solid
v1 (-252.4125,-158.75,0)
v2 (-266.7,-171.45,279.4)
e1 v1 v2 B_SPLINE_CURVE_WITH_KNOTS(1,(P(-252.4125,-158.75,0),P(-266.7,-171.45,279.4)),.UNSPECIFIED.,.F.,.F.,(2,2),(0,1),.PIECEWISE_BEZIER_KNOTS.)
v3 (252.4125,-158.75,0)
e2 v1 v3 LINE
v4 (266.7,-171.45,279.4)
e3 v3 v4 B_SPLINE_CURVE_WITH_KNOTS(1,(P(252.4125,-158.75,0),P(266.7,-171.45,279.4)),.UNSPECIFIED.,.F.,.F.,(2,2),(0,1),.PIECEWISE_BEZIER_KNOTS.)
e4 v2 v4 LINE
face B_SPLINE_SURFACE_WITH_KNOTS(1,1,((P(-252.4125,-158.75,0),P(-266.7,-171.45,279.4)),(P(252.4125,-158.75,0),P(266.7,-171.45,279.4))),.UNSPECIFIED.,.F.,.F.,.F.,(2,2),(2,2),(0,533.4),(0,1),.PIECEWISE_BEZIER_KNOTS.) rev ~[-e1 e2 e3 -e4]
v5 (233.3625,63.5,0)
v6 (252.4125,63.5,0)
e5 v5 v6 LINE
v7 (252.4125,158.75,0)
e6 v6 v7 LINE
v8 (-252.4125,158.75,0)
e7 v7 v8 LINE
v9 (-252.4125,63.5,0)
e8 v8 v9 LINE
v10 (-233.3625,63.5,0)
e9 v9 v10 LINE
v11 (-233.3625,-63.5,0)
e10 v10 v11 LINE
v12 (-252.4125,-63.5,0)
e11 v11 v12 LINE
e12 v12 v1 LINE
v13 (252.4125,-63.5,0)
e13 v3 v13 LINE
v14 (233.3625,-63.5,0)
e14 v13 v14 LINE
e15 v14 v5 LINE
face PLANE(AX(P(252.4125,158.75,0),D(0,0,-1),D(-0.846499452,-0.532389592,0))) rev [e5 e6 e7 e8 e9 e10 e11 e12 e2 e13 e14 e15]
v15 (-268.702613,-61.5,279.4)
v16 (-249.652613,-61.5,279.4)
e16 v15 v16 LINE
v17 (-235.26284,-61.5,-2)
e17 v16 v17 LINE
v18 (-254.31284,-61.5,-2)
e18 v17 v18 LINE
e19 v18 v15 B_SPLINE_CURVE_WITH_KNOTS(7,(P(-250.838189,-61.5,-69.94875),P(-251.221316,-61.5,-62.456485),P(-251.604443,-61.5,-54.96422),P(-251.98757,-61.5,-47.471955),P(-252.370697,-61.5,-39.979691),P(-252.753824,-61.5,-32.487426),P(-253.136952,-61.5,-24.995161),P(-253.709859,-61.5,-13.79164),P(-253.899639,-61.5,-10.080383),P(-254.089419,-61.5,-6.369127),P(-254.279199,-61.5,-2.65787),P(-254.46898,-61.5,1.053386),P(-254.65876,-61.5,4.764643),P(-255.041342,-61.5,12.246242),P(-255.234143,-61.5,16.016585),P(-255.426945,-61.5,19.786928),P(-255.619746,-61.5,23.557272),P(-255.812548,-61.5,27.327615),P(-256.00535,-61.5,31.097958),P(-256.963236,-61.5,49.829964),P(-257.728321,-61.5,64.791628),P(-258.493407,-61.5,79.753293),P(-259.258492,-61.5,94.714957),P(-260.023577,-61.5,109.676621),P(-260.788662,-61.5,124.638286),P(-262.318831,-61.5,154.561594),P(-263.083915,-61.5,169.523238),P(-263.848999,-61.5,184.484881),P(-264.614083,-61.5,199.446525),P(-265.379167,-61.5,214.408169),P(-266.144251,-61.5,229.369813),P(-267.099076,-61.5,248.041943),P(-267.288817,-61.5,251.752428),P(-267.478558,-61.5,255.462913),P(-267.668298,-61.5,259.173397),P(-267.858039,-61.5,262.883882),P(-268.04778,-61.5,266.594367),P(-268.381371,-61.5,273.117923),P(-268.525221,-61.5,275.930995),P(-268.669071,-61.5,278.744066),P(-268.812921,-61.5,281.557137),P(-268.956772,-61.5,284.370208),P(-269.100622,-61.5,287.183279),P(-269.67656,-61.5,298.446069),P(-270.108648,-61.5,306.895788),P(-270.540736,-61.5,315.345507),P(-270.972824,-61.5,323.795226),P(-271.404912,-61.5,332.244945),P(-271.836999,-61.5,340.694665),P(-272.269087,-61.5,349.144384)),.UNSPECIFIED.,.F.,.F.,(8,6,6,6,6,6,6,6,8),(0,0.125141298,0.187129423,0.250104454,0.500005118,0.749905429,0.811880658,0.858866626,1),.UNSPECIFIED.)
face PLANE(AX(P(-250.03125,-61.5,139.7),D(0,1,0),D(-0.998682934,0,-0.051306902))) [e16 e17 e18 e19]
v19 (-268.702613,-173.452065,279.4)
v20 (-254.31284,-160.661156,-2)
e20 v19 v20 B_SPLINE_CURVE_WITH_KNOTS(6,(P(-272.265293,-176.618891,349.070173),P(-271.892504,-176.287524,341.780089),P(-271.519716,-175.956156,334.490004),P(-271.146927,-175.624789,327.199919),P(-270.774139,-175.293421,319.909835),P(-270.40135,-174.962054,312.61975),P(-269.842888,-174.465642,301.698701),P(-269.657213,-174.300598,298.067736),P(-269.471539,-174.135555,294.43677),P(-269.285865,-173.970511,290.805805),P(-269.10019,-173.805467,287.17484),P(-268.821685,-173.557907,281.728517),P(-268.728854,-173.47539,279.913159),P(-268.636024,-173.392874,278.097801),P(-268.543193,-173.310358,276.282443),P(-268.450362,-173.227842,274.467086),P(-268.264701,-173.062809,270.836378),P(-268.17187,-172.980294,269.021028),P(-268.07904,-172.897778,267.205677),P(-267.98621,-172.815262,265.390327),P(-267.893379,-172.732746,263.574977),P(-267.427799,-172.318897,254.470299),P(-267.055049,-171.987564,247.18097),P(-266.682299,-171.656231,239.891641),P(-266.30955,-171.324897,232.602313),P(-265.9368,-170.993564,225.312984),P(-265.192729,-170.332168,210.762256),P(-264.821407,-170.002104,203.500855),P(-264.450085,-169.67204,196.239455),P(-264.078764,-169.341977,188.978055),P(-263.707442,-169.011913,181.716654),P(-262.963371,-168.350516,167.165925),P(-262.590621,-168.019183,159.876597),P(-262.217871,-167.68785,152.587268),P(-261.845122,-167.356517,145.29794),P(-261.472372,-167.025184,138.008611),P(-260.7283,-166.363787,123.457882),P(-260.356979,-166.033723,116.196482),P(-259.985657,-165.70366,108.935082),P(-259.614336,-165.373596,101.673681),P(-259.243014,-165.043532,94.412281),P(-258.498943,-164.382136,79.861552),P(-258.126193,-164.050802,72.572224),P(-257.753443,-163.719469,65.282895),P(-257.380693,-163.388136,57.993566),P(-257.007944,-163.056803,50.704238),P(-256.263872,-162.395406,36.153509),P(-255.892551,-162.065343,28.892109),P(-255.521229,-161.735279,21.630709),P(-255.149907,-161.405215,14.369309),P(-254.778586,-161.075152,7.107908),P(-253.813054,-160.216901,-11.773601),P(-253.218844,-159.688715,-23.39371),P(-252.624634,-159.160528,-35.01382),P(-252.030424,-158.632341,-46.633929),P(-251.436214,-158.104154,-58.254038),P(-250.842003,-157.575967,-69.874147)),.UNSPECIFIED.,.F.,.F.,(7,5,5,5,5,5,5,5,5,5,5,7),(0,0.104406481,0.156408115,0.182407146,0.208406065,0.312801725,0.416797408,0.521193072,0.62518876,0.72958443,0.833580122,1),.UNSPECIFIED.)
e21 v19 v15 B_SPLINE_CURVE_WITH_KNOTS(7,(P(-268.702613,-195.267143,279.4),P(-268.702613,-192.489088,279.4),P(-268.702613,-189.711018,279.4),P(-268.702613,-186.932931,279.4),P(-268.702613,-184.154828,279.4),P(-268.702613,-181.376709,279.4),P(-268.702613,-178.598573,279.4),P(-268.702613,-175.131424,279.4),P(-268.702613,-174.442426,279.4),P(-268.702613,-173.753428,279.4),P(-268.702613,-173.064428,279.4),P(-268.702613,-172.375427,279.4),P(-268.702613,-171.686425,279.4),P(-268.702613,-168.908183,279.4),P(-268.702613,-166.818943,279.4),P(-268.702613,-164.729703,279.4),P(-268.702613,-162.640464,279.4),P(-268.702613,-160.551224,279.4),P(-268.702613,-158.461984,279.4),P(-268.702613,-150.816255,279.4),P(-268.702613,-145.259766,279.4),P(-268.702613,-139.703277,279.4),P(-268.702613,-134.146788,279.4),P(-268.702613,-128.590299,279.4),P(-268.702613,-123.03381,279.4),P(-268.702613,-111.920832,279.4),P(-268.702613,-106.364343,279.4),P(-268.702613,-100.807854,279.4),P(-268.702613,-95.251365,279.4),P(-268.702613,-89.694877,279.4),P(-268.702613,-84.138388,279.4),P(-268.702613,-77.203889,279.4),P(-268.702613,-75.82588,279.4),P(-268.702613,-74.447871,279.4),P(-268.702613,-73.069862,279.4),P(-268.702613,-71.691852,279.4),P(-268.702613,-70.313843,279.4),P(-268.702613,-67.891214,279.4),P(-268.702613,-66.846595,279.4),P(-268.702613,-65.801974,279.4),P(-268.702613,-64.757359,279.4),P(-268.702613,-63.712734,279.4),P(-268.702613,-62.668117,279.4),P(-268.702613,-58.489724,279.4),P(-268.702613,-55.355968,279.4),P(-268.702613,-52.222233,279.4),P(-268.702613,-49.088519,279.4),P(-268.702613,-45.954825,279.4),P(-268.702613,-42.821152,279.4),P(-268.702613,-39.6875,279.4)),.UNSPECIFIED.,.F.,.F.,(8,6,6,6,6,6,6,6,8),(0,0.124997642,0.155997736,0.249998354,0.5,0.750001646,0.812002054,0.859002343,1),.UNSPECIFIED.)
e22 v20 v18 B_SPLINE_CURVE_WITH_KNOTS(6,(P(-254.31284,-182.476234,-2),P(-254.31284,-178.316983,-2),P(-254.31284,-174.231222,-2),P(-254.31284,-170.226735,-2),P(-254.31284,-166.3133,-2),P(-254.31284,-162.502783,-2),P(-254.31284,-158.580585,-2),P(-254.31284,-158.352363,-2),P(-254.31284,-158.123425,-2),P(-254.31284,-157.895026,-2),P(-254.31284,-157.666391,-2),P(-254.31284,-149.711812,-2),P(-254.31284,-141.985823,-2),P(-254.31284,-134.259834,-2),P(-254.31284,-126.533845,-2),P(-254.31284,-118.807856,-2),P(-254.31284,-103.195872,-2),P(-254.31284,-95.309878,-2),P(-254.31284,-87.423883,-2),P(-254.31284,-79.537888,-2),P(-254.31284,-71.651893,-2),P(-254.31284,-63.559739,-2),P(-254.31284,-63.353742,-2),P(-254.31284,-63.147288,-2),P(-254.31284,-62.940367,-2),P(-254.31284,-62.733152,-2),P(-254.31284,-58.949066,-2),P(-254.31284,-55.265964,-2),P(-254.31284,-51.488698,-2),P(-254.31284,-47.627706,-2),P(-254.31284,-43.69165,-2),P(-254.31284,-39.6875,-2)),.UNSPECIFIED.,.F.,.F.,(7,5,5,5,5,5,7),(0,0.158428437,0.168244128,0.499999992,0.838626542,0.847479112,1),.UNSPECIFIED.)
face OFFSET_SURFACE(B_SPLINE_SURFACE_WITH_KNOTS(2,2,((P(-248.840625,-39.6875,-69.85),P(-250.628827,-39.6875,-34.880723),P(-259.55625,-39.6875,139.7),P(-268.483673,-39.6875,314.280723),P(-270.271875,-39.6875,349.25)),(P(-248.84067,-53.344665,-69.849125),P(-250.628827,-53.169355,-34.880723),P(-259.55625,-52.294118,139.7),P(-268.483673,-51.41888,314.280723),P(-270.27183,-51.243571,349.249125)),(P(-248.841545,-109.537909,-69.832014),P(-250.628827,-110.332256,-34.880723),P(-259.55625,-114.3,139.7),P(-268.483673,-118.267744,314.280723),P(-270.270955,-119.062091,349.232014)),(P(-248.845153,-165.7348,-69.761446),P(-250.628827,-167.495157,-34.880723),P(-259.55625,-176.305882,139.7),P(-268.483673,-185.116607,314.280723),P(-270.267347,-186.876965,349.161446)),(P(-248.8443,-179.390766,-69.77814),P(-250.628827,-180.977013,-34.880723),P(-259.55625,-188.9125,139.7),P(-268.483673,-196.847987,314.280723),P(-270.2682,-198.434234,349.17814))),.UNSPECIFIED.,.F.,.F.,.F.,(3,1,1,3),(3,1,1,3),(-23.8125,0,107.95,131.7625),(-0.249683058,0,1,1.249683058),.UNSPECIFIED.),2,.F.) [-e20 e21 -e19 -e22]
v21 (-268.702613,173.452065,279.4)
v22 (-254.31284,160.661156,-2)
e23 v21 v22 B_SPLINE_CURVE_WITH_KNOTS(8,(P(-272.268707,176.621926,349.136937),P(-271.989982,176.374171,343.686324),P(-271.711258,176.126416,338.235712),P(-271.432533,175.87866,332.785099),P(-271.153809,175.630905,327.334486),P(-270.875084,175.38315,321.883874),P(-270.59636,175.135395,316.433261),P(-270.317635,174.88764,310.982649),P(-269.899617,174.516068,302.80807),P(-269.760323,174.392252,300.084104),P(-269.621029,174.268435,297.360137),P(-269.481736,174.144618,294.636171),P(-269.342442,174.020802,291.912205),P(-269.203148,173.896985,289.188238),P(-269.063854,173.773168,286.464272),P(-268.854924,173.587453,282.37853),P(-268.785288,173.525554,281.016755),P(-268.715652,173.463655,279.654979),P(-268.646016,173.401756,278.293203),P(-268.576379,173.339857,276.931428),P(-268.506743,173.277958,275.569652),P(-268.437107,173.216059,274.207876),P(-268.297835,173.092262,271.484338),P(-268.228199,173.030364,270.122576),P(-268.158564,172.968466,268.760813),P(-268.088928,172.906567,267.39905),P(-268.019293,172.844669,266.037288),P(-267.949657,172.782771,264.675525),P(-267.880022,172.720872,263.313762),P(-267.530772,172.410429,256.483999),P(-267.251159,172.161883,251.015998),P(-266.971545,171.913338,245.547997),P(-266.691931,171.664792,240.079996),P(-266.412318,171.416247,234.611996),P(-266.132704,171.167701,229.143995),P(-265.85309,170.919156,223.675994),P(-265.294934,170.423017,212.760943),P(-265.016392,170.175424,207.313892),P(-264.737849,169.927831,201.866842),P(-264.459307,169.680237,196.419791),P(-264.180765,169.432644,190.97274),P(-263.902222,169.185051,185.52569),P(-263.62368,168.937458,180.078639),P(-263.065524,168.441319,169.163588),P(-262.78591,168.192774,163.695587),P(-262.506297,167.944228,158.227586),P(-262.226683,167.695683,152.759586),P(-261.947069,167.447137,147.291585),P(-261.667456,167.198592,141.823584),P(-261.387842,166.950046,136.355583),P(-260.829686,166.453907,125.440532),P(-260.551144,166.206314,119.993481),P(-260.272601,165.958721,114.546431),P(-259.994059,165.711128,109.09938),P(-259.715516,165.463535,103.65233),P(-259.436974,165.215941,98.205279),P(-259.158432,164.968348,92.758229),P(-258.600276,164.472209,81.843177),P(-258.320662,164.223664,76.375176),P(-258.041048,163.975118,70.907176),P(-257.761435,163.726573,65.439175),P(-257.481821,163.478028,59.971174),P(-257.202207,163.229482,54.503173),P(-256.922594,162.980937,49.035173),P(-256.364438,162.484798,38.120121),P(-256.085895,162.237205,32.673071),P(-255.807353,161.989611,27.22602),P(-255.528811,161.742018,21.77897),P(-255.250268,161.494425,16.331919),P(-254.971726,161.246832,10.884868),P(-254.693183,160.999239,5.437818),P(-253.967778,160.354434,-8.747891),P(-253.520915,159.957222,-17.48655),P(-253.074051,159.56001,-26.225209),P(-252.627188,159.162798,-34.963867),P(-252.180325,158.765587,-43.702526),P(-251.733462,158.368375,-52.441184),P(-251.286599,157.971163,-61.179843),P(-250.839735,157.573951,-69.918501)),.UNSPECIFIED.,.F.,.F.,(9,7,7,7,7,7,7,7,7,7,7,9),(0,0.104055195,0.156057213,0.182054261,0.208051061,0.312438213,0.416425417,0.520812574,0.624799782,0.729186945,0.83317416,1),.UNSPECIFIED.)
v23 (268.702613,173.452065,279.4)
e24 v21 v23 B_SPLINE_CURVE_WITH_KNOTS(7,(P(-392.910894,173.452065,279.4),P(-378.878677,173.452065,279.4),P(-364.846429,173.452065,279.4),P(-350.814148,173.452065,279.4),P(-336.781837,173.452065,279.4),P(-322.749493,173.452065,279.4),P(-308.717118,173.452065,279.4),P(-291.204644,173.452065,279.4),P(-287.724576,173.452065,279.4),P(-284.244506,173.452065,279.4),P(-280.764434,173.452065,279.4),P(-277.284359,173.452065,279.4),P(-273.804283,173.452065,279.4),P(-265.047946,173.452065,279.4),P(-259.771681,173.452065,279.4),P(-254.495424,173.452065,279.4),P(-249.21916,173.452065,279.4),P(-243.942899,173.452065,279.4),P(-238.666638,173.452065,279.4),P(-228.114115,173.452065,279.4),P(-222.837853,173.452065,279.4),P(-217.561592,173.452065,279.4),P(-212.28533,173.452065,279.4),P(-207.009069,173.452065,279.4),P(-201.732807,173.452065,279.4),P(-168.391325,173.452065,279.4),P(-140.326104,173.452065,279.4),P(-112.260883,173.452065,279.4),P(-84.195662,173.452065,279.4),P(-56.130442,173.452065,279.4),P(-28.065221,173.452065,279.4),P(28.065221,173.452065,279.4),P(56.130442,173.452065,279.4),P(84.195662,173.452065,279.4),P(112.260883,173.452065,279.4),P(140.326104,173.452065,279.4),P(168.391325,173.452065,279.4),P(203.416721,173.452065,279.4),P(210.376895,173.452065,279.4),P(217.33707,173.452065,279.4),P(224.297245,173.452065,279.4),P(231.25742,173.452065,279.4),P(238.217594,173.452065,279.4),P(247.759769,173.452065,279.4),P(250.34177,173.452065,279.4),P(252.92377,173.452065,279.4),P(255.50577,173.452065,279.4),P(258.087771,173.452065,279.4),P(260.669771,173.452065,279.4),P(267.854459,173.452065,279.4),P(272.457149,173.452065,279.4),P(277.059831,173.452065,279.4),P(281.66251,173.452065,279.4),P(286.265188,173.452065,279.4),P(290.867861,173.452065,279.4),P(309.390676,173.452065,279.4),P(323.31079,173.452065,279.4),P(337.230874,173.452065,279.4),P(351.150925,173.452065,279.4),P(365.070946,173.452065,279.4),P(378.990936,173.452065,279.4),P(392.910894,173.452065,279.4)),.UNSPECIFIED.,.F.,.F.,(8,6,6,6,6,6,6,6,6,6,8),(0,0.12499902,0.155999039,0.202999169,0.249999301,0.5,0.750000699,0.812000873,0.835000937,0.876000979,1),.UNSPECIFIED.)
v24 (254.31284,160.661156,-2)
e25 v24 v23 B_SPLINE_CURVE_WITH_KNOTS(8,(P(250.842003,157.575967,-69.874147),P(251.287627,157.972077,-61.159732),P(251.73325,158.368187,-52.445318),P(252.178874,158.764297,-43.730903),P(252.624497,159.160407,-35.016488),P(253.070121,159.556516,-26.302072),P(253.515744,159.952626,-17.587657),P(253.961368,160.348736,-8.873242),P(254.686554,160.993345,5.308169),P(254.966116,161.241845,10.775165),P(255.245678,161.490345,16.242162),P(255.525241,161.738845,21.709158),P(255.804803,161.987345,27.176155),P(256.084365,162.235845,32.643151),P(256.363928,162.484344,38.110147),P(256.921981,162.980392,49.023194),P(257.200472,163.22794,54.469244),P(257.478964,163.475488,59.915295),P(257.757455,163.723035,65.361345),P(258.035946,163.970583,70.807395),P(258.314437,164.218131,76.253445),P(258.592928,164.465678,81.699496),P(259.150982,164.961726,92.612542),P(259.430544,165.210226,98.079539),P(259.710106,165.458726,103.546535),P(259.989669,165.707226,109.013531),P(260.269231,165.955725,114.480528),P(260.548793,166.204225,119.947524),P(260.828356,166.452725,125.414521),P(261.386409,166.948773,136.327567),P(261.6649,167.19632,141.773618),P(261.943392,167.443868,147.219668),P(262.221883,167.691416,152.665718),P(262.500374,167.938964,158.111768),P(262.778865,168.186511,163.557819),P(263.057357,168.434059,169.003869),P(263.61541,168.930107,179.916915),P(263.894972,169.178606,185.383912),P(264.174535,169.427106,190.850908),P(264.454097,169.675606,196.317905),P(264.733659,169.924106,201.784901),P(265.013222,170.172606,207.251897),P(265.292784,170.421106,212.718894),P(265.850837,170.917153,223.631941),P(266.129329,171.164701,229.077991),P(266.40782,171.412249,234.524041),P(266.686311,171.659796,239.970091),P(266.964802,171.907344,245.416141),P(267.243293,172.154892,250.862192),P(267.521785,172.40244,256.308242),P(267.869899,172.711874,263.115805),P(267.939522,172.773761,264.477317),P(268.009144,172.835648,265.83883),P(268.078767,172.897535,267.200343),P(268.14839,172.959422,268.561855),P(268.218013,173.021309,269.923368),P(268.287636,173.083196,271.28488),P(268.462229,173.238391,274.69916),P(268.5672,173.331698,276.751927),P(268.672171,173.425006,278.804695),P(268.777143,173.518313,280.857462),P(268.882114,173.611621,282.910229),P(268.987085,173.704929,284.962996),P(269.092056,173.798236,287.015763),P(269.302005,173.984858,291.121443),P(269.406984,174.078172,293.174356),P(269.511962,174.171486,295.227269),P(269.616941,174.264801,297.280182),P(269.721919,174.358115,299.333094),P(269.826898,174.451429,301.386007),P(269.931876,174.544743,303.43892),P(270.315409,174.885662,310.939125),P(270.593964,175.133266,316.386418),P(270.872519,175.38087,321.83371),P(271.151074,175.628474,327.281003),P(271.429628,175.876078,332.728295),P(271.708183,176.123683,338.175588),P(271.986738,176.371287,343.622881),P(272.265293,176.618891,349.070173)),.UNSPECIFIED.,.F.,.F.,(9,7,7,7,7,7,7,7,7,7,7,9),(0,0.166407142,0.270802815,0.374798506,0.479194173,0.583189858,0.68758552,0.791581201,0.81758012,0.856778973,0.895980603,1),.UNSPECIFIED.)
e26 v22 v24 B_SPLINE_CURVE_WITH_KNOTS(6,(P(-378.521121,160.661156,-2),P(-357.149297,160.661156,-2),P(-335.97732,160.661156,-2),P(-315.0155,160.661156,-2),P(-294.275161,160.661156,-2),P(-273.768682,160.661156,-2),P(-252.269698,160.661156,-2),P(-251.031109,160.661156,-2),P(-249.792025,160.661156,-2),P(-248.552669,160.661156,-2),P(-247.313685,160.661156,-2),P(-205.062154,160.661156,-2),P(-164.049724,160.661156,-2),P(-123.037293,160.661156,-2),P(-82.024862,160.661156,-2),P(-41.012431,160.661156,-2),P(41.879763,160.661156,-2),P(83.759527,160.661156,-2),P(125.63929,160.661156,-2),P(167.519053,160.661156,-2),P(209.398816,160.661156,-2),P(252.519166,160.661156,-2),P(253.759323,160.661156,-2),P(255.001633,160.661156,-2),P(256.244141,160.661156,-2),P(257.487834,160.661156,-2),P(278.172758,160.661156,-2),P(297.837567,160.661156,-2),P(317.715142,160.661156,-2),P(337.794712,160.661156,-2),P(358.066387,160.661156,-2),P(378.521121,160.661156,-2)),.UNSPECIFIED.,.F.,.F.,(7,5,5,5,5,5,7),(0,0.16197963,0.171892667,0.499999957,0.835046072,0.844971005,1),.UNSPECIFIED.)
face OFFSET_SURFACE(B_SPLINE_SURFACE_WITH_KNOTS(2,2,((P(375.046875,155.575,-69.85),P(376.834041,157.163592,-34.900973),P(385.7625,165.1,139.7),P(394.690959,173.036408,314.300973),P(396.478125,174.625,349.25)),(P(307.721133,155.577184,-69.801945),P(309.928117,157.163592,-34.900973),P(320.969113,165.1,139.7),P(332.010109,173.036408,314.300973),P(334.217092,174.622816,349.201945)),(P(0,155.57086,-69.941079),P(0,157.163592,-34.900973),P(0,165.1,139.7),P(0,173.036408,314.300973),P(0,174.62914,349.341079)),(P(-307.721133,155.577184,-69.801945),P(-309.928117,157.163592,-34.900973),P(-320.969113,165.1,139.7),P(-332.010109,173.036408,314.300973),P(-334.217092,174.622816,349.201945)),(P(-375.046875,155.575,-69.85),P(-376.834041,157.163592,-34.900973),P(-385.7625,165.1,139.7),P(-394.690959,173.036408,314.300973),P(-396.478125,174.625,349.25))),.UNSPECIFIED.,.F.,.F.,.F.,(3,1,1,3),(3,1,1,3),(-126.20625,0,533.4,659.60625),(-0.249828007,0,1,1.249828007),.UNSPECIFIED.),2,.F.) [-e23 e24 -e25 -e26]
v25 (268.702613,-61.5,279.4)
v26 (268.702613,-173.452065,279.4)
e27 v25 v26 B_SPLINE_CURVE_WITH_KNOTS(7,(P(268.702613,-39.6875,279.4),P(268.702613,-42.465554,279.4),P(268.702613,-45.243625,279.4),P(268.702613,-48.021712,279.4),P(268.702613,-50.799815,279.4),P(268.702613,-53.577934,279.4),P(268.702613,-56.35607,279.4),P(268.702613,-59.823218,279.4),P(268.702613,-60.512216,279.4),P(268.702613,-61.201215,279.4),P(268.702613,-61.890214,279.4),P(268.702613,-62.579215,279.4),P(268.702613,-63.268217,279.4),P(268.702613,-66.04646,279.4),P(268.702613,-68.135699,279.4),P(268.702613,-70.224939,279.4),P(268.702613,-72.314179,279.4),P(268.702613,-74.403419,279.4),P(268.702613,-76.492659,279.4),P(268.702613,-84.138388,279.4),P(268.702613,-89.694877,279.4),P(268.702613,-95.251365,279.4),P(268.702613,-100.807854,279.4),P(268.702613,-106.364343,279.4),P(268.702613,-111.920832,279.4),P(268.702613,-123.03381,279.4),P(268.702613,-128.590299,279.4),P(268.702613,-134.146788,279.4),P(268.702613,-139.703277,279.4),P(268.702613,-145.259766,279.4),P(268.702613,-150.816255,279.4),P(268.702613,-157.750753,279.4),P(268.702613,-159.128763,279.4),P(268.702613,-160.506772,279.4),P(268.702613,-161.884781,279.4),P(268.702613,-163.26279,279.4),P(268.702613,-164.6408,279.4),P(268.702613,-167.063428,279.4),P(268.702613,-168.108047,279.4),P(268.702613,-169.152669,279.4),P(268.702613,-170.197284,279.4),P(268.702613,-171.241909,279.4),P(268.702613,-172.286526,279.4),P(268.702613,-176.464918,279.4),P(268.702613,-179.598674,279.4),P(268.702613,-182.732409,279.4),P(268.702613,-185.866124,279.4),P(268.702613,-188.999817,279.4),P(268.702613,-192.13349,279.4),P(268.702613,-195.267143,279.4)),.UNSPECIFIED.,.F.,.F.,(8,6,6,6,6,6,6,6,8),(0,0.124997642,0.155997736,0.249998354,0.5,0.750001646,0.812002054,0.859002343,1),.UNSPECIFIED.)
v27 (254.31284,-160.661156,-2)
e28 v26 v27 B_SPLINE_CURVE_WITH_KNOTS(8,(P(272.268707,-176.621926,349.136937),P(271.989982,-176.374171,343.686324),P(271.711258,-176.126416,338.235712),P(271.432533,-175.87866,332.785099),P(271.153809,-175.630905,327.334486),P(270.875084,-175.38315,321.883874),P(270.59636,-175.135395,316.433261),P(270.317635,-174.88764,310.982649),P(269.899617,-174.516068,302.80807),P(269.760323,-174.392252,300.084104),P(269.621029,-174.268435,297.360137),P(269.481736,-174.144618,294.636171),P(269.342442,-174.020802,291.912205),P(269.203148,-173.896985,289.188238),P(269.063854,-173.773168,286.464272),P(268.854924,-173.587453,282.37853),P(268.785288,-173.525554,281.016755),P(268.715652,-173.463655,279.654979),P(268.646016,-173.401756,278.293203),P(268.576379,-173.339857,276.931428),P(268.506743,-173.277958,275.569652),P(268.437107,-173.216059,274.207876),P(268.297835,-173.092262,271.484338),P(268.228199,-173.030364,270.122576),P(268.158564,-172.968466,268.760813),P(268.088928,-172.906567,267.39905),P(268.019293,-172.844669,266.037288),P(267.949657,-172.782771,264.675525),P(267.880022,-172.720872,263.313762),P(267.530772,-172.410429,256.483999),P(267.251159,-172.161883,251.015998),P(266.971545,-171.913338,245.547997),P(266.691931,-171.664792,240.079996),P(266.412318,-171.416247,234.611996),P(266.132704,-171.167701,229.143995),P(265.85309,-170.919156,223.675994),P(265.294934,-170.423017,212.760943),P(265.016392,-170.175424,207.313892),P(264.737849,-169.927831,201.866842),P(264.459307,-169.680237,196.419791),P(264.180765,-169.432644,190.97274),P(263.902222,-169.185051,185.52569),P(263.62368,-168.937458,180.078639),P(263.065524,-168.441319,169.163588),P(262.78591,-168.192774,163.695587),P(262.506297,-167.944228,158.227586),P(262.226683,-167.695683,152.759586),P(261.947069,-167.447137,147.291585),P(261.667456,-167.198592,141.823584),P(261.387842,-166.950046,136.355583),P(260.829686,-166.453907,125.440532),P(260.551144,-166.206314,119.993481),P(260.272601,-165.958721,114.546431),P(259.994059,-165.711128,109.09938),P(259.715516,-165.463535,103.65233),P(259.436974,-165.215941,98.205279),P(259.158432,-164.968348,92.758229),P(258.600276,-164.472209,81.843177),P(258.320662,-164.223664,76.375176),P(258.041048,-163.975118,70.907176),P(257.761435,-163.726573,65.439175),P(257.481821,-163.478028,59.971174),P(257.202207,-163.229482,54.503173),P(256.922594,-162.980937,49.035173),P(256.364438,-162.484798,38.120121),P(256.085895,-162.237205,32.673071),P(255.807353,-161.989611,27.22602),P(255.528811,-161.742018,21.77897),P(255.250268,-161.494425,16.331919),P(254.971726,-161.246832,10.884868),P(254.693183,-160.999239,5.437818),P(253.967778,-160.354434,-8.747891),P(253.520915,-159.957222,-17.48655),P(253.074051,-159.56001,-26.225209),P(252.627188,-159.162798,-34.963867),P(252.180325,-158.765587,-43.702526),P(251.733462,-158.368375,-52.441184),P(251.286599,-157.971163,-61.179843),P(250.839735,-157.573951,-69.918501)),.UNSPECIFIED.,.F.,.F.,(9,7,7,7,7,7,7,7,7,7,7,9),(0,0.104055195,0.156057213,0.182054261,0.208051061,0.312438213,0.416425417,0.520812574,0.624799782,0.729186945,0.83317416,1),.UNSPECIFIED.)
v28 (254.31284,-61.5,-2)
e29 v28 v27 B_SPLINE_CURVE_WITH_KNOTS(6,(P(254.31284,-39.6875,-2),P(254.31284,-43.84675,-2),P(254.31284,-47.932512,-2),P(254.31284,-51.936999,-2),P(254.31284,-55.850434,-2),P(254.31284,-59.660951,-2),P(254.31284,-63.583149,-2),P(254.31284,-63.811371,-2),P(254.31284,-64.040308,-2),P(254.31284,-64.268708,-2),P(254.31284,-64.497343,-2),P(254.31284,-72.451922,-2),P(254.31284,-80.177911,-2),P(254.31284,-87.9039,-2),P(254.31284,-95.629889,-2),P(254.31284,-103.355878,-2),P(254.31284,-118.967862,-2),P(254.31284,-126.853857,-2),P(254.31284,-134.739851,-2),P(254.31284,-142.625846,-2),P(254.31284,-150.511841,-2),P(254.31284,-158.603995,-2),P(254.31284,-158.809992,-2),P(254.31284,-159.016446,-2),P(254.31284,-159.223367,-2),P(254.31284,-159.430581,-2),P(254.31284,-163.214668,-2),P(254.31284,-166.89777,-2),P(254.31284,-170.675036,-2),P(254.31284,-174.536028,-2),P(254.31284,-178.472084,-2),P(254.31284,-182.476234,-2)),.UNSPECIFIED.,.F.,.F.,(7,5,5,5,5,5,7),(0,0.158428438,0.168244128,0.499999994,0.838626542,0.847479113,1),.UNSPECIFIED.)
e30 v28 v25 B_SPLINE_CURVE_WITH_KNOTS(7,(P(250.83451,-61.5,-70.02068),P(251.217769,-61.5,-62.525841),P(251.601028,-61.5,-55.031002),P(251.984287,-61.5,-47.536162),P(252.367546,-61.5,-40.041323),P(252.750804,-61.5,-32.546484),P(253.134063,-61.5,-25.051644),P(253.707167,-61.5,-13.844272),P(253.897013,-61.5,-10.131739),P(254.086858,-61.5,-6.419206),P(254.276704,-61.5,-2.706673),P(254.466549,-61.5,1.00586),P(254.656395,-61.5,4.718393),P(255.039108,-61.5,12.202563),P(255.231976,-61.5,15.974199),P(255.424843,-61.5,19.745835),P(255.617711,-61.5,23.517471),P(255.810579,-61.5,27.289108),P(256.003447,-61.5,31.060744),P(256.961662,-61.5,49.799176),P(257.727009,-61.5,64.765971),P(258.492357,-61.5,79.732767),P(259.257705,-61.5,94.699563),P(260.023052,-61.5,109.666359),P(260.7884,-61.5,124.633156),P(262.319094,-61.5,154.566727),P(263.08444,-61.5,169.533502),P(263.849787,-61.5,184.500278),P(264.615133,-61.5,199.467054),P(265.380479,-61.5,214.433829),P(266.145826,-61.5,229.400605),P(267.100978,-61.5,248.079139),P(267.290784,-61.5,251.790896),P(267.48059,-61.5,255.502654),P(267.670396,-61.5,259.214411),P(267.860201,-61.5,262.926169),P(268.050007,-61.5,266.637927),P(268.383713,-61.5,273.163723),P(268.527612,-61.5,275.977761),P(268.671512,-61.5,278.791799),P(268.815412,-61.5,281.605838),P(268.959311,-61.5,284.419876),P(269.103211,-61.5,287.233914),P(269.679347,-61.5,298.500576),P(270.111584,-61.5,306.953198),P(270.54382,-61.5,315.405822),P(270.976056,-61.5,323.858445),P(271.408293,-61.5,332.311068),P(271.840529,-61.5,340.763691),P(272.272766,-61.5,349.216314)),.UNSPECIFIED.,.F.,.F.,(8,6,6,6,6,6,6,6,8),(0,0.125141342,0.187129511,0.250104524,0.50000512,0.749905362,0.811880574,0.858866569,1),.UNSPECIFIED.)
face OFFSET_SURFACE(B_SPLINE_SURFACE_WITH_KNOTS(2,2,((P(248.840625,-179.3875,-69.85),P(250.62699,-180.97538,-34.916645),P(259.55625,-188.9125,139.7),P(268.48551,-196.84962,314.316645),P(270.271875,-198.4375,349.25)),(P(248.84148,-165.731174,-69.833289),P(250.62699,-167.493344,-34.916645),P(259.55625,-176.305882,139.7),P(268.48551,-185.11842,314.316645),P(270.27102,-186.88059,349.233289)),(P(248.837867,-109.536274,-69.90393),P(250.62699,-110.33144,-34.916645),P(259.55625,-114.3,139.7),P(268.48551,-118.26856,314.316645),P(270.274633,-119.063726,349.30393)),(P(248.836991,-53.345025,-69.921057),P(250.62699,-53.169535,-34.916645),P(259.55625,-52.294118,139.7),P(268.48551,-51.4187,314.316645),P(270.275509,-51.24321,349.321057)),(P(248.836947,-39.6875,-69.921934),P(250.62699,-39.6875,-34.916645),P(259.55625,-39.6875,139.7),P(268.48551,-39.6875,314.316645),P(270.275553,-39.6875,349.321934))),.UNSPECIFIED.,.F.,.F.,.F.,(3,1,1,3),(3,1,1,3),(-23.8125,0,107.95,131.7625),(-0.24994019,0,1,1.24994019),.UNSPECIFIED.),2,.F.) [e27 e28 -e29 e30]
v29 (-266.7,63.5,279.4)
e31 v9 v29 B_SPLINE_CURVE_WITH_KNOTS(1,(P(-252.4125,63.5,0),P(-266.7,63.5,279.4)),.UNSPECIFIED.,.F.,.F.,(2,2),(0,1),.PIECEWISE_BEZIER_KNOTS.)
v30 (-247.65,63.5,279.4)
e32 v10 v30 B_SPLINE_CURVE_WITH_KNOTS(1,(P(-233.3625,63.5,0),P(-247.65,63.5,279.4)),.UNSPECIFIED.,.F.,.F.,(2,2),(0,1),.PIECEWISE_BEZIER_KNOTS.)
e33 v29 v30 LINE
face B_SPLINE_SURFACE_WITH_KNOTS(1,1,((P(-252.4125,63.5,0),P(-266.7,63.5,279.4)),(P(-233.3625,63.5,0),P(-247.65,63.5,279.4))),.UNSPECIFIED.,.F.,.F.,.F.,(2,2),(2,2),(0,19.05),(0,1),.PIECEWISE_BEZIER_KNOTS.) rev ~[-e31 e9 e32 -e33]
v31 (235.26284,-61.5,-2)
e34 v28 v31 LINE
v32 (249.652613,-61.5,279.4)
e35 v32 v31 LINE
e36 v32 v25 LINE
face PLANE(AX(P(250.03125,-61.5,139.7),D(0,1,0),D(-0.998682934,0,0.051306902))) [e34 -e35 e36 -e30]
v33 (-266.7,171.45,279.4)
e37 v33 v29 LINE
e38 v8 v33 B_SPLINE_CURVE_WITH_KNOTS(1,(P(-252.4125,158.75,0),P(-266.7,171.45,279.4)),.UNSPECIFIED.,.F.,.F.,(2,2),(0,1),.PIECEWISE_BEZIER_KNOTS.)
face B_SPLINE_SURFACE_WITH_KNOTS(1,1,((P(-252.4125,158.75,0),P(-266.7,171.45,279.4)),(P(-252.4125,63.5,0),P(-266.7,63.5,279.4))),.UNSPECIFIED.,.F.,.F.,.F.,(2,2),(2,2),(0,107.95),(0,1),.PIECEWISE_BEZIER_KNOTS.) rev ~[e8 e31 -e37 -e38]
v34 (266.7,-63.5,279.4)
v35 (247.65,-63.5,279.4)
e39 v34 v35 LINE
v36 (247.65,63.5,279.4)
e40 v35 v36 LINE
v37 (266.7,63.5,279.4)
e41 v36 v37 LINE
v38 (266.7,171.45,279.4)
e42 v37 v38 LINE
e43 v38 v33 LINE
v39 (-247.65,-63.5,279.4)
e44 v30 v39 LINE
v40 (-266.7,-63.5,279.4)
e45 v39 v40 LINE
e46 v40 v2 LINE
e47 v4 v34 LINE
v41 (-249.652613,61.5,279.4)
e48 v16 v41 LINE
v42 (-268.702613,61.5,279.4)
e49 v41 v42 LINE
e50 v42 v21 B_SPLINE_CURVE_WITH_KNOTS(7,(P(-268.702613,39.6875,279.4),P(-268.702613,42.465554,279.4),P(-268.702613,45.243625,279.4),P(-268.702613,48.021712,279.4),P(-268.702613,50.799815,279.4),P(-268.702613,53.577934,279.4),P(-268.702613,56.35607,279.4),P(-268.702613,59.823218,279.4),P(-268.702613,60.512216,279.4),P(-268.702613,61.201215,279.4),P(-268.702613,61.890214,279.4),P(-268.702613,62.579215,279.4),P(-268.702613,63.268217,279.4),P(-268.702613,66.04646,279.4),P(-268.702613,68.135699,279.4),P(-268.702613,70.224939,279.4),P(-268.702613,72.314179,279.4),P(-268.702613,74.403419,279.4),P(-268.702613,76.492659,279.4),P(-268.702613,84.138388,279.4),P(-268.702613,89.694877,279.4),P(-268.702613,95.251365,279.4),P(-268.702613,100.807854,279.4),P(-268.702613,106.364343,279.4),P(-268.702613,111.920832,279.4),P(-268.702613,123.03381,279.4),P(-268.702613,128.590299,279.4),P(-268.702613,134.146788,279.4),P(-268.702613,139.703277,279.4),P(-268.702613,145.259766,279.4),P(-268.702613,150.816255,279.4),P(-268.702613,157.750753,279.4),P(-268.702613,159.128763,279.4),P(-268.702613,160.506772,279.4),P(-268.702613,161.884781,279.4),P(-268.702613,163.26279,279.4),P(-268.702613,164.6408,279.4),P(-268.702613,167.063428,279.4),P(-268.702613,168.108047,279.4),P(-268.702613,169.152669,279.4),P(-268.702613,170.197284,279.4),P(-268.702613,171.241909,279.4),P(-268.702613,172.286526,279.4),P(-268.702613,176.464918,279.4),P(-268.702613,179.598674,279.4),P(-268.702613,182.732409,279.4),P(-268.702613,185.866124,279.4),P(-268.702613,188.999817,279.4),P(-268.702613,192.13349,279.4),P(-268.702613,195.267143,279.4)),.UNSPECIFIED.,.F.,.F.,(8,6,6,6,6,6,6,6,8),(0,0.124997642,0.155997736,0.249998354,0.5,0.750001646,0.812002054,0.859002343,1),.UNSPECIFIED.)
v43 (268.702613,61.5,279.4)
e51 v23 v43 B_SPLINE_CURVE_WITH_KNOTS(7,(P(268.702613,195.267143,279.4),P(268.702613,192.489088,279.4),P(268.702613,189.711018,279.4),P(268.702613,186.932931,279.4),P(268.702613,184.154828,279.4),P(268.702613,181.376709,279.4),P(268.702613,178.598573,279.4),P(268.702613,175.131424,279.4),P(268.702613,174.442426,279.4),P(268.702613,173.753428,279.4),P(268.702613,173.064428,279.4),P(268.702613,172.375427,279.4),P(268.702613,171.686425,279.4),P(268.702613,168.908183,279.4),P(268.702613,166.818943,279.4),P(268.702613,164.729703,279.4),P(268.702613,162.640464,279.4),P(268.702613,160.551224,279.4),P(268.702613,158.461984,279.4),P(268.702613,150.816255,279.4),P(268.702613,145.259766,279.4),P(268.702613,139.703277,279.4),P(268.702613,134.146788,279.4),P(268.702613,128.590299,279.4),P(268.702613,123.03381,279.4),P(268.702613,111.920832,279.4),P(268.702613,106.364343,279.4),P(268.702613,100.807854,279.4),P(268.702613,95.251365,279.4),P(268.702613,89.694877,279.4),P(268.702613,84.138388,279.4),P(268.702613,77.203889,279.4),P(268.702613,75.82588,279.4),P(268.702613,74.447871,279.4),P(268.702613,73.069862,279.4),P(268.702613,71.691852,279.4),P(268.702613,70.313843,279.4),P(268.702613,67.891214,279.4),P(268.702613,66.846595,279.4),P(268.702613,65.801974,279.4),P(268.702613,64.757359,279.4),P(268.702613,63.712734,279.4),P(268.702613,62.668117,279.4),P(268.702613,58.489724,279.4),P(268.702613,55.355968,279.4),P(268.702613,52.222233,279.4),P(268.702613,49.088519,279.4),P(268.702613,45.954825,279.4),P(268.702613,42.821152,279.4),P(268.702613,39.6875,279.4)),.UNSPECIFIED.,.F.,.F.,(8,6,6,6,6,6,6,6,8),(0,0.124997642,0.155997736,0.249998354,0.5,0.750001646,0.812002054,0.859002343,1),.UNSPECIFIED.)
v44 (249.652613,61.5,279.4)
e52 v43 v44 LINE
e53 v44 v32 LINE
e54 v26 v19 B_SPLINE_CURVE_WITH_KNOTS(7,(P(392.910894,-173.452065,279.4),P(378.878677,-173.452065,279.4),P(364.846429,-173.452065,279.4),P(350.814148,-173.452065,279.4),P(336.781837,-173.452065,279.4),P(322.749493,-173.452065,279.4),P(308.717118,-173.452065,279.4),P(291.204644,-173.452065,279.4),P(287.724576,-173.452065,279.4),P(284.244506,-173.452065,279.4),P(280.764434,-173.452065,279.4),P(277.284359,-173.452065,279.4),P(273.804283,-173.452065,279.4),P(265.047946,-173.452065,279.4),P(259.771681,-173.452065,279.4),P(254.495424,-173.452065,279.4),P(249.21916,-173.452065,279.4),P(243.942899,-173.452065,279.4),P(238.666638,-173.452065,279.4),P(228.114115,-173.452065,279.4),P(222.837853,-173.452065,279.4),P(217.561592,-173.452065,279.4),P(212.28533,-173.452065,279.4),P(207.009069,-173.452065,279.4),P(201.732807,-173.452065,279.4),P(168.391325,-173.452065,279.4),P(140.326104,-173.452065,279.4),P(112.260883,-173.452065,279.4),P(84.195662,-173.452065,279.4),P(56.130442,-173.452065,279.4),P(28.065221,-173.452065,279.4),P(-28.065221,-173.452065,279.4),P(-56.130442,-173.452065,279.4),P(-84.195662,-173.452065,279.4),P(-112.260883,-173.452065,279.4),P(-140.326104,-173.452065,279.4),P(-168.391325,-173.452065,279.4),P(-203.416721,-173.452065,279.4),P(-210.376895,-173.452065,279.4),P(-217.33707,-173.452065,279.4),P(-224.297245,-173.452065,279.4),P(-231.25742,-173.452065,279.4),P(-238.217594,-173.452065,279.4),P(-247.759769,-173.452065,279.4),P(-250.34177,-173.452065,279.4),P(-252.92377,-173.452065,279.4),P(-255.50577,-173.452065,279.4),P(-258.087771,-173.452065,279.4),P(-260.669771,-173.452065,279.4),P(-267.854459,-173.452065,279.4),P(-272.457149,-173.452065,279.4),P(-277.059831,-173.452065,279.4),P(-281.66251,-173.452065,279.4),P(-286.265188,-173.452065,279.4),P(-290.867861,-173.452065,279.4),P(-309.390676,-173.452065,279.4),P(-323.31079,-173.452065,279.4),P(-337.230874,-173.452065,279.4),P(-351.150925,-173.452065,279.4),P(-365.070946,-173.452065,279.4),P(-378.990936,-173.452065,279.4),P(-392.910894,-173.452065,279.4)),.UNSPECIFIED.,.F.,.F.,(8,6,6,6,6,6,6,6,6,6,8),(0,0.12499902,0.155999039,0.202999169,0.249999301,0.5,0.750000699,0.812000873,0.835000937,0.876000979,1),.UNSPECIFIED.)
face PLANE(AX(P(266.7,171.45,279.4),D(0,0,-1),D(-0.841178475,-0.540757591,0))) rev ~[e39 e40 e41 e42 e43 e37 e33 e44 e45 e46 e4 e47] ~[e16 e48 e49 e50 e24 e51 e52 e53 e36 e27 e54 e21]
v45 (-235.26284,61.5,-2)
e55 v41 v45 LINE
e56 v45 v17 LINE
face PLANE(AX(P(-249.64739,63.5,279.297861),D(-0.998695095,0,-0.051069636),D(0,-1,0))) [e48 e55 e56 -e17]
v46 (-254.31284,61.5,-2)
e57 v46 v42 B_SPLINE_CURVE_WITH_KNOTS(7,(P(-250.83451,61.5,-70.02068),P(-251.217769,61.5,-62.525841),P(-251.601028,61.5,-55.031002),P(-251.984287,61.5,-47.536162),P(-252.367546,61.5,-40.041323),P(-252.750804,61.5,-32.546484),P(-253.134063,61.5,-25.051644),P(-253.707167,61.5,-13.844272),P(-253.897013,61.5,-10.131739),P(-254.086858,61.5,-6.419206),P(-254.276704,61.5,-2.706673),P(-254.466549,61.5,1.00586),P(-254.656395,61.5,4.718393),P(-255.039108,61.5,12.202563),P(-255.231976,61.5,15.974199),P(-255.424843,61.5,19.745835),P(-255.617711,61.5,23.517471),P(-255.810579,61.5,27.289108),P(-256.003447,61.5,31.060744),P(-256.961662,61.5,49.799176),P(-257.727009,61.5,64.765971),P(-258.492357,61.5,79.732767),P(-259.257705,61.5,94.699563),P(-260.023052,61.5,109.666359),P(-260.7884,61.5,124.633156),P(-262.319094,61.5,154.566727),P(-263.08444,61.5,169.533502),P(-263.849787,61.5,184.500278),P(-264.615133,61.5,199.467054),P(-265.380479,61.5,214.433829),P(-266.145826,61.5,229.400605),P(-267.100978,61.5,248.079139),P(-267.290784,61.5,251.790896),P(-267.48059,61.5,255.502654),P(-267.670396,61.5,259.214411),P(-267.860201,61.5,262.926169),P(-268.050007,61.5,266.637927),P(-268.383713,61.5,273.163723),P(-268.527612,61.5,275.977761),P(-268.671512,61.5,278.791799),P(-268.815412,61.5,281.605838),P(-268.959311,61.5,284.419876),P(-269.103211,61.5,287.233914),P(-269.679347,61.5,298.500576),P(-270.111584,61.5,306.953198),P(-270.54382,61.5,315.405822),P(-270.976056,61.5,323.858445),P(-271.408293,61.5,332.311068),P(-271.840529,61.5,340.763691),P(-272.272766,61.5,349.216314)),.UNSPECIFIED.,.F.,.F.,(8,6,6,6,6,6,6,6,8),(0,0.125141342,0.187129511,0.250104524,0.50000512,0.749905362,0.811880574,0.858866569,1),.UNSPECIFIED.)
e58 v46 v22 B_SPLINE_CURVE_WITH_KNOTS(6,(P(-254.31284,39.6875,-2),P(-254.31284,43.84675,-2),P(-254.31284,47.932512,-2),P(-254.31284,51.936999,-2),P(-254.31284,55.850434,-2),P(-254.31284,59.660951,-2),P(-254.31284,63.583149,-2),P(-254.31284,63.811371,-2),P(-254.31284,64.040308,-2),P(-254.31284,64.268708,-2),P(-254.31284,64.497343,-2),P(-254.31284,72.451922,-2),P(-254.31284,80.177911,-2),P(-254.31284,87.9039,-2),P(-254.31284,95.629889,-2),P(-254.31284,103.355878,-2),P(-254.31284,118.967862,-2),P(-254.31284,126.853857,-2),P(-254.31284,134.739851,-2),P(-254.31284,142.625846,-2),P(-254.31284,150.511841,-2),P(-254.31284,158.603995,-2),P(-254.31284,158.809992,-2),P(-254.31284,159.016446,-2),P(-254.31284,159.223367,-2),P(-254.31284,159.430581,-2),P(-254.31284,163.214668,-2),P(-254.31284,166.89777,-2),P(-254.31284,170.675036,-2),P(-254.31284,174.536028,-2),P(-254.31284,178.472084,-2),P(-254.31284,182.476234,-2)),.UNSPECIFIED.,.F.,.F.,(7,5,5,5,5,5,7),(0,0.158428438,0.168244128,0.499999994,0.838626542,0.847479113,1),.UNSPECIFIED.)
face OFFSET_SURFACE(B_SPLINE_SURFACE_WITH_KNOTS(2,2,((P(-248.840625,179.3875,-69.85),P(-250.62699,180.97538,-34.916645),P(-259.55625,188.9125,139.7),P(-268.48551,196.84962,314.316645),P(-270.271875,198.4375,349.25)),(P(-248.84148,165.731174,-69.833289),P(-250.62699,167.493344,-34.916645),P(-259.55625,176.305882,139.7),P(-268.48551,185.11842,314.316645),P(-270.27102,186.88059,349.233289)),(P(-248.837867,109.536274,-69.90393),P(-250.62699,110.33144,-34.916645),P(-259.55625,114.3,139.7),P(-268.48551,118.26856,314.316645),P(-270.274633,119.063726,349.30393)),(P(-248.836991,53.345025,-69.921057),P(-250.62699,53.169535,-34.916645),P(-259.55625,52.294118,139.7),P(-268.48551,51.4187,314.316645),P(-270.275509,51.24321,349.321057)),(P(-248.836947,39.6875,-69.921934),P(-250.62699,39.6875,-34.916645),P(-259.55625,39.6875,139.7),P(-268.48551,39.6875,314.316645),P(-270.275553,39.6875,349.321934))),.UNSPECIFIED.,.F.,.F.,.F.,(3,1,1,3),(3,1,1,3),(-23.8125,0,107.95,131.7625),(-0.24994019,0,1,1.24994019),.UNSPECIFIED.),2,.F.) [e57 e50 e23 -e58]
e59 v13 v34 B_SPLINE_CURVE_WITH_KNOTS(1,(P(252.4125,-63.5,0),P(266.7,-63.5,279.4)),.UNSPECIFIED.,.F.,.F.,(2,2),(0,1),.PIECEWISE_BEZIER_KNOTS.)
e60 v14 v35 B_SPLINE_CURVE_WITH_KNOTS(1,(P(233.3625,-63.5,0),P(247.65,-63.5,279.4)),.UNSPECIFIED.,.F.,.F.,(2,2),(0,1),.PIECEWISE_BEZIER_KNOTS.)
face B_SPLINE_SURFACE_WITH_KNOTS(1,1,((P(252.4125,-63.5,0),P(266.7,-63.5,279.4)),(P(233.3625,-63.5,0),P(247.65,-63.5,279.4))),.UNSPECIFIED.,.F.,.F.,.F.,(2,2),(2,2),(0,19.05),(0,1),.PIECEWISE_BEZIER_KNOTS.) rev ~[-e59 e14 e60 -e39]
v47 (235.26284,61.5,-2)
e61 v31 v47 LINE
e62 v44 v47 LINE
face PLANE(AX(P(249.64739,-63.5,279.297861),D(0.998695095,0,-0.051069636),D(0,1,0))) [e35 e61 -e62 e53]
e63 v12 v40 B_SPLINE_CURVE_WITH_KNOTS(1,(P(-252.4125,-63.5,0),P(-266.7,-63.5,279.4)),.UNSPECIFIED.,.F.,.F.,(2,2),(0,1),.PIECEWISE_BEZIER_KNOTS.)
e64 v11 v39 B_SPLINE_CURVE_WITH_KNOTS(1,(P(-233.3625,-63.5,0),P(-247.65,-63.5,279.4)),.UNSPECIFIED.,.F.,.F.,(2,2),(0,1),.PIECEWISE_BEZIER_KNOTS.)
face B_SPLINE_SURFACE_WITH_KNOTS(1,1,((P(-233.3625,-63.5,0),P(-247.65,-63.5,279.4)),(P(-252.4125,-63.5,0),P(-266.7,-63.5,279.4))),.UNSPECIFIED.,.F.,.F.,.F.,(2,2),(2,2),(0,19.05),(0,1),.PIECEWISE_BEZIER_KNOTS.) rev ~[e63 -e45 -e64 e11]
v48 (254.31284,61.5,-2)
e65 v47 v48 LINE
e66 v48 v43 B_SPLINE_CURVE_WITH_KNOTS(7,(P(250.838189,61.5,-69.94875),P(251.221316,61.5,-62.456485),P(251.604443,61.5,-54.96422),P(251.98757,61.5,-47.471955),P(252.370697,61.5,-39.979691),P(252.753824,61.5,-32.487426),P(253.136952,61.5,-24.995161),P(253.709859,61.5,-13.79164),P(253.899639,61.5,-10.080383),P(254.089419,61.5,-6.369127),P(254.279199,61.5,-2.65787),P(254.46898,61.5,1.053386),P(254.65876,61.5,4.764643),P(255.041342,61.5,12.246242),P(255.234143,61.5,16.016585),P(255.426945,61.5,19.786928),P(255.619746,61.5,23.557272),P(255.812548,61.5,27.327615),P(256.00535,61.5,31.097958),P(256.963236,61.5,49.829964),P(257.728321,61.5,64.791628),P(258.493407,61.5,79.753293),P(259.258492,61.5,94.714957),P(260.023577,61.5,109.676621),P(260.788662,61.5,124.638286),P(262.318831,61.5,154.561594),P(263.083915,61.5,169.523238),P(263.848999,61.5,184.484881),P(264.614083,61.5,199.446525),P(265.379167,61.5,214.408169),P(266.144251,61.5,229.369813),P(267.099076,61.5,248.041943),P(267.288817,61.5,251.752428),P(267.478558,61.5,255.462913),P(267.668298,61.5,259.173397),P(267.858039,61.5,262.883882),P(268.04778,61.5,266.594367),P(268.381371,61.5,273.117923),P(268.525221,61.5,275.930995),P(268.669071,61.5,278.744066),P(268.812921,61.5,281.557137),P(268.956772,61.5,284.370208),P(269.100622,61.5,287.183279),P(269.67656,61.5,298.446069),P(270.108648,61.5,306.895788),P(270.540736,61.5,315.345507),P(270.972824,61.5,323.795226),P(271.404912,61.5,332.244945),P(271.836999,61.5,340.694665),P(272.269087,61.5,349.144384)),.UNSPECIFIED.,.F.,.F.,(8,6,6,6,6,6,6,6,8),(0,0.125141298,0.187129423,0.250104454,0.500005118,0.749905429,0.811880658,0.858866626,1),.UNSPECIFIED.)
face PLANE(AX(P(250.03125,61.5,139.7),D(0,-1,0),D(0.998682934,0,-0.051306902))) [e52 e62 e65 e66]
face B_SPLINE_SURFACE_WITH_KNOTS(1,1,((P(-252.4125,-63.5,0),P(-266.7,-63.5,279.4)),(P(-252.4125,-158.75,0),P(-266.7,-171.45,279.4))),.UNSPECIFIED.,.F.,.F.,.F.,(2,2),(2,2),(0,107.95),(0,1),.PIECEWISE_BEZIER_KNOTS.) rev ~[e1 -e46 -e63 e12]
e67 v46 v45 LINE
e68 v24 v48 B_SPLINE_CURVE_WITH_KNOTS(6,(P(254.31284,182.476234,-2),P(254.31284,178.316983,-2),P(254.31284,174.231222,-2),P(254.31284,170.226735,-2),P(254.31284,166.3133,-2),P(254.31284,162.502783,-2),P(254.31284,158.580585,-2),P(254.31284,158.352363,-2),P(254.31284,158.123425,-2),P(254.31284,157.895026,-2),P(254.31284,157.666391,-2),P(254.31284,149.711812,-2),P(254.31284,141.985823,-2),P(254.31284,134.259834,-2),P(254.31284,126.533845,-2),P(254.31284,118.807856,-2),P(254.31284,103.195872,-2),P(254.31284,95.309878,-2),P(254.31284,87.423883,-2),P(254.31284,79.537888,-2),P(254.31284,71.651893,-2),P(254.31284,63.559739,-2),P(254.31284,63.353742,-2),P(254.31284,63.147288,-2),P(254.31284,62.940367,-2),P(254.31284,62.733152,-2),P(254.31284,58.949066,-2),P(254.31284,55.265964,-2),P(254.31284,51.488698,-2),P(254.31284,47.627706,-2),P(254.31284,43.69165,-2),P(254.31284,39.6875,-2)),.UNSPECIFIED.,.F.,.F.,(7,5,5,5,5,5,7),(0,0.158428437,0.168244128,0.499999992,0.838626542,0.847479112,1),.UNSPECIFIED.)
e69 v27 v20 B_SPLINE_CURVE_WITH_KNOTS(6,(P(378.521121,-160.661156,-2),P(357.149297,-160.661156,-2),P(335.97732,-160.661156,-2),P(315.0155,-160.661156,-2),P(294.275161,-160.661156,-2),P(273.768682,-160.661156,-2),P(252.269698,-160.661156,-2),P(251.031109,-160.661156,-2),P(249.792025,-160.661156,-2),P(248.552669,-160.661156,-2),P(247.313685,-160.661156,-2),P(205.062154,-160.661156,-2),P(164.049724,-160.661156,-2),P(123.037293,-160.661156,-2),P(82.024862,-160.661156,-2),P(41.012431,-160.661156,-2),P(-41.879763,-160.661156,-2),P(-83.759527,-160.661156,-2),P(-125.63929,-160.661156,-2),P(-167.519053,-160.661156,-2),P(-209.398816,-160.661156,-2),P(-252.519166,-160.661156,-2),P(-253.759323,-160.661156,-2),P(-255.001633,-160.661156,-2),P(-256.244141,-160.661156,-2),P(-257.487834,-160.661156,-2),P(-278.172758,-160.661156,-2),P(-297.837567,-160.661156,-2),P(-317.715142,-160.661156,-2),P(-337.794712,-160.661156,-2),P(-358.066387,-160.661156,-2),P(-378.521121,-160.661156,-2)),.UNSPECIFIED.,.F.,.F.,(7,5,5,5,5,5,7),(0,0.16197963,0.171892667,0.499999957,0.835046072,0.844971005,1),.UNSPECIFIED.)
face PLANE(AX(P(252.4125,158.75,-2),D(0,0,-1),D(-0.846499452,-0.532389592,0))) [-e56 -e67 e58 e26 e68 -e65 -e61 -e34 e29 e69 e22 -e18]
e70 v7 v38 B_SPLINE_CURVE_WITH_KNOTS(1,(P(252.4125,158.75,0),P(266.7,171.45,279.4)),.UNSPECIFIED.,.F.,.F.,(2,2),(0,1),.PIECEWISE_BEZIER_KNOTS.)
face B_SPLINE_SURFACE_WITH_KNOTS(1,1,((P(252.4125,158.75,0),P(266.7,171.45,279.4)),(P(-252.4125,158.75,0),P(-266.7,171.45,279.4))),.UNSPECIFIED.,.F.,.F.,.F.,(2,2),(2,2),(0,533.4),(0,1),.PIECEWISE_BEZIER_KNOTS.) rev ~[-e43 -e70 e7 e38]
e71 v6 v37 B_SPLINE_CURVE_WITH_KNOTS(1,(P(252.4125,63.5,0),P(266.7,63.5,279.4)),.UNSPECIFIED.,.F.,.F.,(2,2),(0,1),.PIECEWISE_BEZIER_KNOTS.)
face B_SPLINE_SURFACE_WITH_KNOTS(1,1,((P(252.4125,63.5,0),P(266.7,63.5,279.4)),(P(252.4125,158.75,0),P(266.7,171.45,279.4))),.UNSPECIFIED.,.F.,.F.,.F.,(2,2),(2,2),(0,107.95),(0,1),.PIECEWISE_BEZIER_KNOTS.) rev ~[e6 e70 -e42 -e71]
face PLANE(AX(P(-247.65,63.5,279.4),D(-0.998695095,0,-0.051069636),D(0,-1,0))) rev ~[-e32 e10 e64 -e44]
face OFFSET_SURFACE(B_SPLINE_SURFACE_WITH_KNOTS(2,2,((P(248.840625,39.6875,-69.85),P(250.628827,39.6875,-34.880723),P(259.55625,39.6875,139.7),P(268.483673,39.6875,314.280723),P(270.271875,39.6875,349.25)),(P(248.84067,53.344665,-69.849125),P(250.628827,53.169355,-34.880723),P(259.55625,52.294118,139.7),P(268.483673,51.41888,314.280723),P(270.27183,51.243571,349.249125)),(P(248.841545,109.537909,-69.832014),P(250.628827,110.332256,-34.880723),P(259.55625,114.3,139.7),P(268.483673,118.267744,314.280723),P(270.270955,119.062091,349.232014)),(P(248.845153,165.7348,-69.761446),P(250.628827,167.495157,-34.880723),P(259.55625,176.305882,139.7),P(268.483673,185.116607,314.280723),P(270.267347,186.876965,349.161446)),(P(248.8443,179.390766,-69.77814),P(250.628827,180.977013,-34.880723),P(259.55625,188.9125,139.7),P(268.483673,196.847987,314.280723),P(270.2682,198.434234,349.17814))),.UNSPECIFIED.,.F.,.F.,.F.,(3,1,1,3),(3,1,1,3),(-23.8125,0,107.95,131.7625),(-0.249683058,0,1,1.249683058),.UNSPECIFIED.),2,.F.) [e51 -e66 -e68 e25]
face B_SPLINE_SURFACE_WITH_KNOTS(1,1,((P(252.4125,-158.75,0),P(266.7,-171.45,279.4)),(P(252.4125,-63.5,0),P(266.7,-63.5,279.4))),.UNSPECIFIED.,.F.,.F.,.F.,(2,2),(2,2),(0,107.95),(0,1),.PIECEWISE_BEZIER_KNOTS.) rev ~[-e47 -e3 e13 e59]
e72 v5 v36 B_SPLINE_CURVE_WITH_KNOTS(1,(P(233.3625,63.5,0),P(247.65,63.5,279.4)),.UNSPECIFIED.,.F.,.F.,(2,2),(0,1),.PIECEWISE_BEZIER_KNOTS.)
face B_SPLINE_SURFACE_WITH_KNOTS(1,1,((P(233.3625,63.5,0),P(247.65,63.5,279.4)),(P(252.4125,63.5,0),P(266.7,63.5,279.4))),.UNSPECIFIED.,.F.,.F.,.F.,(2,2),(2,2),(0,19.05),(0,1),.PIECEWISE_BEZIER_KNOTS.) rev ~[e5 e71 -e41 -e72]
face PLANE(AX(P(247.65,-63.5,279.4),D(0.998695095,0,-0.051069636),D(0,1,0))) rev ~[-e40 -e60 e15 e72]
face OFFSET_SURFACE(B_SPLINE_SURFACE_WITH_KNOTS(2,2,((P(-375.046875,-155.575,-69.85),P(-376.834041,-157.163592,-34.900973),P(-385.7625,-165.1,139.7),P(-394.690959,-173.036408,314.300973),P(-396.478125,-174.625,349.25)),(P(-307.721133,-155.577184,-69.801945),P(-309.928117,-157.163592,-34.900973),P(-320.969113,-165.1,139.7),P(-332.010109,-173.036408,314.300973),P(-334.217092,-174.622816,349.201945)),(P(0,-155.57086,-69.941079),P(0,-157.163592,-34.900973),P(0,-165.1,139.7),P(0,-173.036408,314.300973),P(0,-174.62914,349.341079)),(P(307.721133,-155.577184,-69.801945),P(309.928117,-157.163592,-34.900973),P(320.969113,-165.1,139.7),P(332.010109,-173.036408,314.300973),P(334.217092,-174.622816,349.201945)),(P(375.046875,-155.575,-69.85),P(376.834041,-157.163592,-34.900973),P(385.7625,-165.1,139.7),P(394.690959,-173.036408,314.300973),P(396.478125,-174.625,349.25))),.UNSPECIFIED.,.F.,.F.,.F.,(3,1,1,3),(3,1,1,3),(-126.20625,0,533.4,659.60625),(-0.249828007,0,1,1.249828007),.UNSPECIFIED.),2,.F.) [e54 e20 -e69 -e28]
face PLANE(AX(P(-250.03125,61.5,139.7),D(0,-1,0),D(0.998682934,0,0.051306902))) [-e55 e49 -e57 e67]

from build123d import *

# Parameters (mm, degrees)
F4_T = 2


with BuildPart() as f3:
    # F0 (on Top) → F3 section 0
    with BuildSketch(Plane.XY):
        Polygon((252.4125, 158.75), (-252.4125, 158.75), (-252.4125, 63.5), (-233.3625, 63.5), (-233.3625, -63.5), (-252.4125, -63.5), (-252.4125, -158.75), (252.4125, -158.75), (252.4125, -63.5), (233.3625, -63.5), (233.3625, 63.5), (252.4125, 63.5), align=None)
    # F2 (on offset) → F3 section 1
    with BuildSketch(Plane.XY.offset(279.4)):
        Polygon((266.7, 171.45), (-266.7, 171.45), (-266.7, 63.5), (-247.65, 63.5), (-247.65, -63.5), (-266.7, -63.5), (-266.7, -171.45), (266.7, -171.45), (266.7, -63.5), (247.65, -63.5), (247.65, 63.5), (266.7, 63.5), align=None)
    loft()

    # F4
    f4_openings = [f3.faces().sort_by_distance(p)[0] for p in [
        (0, 0, 279.4),
    ]]
    offset(amount=F4_T, openings=f4_openings, kind=Kind.INTERSECTION)


solid = f3.part
